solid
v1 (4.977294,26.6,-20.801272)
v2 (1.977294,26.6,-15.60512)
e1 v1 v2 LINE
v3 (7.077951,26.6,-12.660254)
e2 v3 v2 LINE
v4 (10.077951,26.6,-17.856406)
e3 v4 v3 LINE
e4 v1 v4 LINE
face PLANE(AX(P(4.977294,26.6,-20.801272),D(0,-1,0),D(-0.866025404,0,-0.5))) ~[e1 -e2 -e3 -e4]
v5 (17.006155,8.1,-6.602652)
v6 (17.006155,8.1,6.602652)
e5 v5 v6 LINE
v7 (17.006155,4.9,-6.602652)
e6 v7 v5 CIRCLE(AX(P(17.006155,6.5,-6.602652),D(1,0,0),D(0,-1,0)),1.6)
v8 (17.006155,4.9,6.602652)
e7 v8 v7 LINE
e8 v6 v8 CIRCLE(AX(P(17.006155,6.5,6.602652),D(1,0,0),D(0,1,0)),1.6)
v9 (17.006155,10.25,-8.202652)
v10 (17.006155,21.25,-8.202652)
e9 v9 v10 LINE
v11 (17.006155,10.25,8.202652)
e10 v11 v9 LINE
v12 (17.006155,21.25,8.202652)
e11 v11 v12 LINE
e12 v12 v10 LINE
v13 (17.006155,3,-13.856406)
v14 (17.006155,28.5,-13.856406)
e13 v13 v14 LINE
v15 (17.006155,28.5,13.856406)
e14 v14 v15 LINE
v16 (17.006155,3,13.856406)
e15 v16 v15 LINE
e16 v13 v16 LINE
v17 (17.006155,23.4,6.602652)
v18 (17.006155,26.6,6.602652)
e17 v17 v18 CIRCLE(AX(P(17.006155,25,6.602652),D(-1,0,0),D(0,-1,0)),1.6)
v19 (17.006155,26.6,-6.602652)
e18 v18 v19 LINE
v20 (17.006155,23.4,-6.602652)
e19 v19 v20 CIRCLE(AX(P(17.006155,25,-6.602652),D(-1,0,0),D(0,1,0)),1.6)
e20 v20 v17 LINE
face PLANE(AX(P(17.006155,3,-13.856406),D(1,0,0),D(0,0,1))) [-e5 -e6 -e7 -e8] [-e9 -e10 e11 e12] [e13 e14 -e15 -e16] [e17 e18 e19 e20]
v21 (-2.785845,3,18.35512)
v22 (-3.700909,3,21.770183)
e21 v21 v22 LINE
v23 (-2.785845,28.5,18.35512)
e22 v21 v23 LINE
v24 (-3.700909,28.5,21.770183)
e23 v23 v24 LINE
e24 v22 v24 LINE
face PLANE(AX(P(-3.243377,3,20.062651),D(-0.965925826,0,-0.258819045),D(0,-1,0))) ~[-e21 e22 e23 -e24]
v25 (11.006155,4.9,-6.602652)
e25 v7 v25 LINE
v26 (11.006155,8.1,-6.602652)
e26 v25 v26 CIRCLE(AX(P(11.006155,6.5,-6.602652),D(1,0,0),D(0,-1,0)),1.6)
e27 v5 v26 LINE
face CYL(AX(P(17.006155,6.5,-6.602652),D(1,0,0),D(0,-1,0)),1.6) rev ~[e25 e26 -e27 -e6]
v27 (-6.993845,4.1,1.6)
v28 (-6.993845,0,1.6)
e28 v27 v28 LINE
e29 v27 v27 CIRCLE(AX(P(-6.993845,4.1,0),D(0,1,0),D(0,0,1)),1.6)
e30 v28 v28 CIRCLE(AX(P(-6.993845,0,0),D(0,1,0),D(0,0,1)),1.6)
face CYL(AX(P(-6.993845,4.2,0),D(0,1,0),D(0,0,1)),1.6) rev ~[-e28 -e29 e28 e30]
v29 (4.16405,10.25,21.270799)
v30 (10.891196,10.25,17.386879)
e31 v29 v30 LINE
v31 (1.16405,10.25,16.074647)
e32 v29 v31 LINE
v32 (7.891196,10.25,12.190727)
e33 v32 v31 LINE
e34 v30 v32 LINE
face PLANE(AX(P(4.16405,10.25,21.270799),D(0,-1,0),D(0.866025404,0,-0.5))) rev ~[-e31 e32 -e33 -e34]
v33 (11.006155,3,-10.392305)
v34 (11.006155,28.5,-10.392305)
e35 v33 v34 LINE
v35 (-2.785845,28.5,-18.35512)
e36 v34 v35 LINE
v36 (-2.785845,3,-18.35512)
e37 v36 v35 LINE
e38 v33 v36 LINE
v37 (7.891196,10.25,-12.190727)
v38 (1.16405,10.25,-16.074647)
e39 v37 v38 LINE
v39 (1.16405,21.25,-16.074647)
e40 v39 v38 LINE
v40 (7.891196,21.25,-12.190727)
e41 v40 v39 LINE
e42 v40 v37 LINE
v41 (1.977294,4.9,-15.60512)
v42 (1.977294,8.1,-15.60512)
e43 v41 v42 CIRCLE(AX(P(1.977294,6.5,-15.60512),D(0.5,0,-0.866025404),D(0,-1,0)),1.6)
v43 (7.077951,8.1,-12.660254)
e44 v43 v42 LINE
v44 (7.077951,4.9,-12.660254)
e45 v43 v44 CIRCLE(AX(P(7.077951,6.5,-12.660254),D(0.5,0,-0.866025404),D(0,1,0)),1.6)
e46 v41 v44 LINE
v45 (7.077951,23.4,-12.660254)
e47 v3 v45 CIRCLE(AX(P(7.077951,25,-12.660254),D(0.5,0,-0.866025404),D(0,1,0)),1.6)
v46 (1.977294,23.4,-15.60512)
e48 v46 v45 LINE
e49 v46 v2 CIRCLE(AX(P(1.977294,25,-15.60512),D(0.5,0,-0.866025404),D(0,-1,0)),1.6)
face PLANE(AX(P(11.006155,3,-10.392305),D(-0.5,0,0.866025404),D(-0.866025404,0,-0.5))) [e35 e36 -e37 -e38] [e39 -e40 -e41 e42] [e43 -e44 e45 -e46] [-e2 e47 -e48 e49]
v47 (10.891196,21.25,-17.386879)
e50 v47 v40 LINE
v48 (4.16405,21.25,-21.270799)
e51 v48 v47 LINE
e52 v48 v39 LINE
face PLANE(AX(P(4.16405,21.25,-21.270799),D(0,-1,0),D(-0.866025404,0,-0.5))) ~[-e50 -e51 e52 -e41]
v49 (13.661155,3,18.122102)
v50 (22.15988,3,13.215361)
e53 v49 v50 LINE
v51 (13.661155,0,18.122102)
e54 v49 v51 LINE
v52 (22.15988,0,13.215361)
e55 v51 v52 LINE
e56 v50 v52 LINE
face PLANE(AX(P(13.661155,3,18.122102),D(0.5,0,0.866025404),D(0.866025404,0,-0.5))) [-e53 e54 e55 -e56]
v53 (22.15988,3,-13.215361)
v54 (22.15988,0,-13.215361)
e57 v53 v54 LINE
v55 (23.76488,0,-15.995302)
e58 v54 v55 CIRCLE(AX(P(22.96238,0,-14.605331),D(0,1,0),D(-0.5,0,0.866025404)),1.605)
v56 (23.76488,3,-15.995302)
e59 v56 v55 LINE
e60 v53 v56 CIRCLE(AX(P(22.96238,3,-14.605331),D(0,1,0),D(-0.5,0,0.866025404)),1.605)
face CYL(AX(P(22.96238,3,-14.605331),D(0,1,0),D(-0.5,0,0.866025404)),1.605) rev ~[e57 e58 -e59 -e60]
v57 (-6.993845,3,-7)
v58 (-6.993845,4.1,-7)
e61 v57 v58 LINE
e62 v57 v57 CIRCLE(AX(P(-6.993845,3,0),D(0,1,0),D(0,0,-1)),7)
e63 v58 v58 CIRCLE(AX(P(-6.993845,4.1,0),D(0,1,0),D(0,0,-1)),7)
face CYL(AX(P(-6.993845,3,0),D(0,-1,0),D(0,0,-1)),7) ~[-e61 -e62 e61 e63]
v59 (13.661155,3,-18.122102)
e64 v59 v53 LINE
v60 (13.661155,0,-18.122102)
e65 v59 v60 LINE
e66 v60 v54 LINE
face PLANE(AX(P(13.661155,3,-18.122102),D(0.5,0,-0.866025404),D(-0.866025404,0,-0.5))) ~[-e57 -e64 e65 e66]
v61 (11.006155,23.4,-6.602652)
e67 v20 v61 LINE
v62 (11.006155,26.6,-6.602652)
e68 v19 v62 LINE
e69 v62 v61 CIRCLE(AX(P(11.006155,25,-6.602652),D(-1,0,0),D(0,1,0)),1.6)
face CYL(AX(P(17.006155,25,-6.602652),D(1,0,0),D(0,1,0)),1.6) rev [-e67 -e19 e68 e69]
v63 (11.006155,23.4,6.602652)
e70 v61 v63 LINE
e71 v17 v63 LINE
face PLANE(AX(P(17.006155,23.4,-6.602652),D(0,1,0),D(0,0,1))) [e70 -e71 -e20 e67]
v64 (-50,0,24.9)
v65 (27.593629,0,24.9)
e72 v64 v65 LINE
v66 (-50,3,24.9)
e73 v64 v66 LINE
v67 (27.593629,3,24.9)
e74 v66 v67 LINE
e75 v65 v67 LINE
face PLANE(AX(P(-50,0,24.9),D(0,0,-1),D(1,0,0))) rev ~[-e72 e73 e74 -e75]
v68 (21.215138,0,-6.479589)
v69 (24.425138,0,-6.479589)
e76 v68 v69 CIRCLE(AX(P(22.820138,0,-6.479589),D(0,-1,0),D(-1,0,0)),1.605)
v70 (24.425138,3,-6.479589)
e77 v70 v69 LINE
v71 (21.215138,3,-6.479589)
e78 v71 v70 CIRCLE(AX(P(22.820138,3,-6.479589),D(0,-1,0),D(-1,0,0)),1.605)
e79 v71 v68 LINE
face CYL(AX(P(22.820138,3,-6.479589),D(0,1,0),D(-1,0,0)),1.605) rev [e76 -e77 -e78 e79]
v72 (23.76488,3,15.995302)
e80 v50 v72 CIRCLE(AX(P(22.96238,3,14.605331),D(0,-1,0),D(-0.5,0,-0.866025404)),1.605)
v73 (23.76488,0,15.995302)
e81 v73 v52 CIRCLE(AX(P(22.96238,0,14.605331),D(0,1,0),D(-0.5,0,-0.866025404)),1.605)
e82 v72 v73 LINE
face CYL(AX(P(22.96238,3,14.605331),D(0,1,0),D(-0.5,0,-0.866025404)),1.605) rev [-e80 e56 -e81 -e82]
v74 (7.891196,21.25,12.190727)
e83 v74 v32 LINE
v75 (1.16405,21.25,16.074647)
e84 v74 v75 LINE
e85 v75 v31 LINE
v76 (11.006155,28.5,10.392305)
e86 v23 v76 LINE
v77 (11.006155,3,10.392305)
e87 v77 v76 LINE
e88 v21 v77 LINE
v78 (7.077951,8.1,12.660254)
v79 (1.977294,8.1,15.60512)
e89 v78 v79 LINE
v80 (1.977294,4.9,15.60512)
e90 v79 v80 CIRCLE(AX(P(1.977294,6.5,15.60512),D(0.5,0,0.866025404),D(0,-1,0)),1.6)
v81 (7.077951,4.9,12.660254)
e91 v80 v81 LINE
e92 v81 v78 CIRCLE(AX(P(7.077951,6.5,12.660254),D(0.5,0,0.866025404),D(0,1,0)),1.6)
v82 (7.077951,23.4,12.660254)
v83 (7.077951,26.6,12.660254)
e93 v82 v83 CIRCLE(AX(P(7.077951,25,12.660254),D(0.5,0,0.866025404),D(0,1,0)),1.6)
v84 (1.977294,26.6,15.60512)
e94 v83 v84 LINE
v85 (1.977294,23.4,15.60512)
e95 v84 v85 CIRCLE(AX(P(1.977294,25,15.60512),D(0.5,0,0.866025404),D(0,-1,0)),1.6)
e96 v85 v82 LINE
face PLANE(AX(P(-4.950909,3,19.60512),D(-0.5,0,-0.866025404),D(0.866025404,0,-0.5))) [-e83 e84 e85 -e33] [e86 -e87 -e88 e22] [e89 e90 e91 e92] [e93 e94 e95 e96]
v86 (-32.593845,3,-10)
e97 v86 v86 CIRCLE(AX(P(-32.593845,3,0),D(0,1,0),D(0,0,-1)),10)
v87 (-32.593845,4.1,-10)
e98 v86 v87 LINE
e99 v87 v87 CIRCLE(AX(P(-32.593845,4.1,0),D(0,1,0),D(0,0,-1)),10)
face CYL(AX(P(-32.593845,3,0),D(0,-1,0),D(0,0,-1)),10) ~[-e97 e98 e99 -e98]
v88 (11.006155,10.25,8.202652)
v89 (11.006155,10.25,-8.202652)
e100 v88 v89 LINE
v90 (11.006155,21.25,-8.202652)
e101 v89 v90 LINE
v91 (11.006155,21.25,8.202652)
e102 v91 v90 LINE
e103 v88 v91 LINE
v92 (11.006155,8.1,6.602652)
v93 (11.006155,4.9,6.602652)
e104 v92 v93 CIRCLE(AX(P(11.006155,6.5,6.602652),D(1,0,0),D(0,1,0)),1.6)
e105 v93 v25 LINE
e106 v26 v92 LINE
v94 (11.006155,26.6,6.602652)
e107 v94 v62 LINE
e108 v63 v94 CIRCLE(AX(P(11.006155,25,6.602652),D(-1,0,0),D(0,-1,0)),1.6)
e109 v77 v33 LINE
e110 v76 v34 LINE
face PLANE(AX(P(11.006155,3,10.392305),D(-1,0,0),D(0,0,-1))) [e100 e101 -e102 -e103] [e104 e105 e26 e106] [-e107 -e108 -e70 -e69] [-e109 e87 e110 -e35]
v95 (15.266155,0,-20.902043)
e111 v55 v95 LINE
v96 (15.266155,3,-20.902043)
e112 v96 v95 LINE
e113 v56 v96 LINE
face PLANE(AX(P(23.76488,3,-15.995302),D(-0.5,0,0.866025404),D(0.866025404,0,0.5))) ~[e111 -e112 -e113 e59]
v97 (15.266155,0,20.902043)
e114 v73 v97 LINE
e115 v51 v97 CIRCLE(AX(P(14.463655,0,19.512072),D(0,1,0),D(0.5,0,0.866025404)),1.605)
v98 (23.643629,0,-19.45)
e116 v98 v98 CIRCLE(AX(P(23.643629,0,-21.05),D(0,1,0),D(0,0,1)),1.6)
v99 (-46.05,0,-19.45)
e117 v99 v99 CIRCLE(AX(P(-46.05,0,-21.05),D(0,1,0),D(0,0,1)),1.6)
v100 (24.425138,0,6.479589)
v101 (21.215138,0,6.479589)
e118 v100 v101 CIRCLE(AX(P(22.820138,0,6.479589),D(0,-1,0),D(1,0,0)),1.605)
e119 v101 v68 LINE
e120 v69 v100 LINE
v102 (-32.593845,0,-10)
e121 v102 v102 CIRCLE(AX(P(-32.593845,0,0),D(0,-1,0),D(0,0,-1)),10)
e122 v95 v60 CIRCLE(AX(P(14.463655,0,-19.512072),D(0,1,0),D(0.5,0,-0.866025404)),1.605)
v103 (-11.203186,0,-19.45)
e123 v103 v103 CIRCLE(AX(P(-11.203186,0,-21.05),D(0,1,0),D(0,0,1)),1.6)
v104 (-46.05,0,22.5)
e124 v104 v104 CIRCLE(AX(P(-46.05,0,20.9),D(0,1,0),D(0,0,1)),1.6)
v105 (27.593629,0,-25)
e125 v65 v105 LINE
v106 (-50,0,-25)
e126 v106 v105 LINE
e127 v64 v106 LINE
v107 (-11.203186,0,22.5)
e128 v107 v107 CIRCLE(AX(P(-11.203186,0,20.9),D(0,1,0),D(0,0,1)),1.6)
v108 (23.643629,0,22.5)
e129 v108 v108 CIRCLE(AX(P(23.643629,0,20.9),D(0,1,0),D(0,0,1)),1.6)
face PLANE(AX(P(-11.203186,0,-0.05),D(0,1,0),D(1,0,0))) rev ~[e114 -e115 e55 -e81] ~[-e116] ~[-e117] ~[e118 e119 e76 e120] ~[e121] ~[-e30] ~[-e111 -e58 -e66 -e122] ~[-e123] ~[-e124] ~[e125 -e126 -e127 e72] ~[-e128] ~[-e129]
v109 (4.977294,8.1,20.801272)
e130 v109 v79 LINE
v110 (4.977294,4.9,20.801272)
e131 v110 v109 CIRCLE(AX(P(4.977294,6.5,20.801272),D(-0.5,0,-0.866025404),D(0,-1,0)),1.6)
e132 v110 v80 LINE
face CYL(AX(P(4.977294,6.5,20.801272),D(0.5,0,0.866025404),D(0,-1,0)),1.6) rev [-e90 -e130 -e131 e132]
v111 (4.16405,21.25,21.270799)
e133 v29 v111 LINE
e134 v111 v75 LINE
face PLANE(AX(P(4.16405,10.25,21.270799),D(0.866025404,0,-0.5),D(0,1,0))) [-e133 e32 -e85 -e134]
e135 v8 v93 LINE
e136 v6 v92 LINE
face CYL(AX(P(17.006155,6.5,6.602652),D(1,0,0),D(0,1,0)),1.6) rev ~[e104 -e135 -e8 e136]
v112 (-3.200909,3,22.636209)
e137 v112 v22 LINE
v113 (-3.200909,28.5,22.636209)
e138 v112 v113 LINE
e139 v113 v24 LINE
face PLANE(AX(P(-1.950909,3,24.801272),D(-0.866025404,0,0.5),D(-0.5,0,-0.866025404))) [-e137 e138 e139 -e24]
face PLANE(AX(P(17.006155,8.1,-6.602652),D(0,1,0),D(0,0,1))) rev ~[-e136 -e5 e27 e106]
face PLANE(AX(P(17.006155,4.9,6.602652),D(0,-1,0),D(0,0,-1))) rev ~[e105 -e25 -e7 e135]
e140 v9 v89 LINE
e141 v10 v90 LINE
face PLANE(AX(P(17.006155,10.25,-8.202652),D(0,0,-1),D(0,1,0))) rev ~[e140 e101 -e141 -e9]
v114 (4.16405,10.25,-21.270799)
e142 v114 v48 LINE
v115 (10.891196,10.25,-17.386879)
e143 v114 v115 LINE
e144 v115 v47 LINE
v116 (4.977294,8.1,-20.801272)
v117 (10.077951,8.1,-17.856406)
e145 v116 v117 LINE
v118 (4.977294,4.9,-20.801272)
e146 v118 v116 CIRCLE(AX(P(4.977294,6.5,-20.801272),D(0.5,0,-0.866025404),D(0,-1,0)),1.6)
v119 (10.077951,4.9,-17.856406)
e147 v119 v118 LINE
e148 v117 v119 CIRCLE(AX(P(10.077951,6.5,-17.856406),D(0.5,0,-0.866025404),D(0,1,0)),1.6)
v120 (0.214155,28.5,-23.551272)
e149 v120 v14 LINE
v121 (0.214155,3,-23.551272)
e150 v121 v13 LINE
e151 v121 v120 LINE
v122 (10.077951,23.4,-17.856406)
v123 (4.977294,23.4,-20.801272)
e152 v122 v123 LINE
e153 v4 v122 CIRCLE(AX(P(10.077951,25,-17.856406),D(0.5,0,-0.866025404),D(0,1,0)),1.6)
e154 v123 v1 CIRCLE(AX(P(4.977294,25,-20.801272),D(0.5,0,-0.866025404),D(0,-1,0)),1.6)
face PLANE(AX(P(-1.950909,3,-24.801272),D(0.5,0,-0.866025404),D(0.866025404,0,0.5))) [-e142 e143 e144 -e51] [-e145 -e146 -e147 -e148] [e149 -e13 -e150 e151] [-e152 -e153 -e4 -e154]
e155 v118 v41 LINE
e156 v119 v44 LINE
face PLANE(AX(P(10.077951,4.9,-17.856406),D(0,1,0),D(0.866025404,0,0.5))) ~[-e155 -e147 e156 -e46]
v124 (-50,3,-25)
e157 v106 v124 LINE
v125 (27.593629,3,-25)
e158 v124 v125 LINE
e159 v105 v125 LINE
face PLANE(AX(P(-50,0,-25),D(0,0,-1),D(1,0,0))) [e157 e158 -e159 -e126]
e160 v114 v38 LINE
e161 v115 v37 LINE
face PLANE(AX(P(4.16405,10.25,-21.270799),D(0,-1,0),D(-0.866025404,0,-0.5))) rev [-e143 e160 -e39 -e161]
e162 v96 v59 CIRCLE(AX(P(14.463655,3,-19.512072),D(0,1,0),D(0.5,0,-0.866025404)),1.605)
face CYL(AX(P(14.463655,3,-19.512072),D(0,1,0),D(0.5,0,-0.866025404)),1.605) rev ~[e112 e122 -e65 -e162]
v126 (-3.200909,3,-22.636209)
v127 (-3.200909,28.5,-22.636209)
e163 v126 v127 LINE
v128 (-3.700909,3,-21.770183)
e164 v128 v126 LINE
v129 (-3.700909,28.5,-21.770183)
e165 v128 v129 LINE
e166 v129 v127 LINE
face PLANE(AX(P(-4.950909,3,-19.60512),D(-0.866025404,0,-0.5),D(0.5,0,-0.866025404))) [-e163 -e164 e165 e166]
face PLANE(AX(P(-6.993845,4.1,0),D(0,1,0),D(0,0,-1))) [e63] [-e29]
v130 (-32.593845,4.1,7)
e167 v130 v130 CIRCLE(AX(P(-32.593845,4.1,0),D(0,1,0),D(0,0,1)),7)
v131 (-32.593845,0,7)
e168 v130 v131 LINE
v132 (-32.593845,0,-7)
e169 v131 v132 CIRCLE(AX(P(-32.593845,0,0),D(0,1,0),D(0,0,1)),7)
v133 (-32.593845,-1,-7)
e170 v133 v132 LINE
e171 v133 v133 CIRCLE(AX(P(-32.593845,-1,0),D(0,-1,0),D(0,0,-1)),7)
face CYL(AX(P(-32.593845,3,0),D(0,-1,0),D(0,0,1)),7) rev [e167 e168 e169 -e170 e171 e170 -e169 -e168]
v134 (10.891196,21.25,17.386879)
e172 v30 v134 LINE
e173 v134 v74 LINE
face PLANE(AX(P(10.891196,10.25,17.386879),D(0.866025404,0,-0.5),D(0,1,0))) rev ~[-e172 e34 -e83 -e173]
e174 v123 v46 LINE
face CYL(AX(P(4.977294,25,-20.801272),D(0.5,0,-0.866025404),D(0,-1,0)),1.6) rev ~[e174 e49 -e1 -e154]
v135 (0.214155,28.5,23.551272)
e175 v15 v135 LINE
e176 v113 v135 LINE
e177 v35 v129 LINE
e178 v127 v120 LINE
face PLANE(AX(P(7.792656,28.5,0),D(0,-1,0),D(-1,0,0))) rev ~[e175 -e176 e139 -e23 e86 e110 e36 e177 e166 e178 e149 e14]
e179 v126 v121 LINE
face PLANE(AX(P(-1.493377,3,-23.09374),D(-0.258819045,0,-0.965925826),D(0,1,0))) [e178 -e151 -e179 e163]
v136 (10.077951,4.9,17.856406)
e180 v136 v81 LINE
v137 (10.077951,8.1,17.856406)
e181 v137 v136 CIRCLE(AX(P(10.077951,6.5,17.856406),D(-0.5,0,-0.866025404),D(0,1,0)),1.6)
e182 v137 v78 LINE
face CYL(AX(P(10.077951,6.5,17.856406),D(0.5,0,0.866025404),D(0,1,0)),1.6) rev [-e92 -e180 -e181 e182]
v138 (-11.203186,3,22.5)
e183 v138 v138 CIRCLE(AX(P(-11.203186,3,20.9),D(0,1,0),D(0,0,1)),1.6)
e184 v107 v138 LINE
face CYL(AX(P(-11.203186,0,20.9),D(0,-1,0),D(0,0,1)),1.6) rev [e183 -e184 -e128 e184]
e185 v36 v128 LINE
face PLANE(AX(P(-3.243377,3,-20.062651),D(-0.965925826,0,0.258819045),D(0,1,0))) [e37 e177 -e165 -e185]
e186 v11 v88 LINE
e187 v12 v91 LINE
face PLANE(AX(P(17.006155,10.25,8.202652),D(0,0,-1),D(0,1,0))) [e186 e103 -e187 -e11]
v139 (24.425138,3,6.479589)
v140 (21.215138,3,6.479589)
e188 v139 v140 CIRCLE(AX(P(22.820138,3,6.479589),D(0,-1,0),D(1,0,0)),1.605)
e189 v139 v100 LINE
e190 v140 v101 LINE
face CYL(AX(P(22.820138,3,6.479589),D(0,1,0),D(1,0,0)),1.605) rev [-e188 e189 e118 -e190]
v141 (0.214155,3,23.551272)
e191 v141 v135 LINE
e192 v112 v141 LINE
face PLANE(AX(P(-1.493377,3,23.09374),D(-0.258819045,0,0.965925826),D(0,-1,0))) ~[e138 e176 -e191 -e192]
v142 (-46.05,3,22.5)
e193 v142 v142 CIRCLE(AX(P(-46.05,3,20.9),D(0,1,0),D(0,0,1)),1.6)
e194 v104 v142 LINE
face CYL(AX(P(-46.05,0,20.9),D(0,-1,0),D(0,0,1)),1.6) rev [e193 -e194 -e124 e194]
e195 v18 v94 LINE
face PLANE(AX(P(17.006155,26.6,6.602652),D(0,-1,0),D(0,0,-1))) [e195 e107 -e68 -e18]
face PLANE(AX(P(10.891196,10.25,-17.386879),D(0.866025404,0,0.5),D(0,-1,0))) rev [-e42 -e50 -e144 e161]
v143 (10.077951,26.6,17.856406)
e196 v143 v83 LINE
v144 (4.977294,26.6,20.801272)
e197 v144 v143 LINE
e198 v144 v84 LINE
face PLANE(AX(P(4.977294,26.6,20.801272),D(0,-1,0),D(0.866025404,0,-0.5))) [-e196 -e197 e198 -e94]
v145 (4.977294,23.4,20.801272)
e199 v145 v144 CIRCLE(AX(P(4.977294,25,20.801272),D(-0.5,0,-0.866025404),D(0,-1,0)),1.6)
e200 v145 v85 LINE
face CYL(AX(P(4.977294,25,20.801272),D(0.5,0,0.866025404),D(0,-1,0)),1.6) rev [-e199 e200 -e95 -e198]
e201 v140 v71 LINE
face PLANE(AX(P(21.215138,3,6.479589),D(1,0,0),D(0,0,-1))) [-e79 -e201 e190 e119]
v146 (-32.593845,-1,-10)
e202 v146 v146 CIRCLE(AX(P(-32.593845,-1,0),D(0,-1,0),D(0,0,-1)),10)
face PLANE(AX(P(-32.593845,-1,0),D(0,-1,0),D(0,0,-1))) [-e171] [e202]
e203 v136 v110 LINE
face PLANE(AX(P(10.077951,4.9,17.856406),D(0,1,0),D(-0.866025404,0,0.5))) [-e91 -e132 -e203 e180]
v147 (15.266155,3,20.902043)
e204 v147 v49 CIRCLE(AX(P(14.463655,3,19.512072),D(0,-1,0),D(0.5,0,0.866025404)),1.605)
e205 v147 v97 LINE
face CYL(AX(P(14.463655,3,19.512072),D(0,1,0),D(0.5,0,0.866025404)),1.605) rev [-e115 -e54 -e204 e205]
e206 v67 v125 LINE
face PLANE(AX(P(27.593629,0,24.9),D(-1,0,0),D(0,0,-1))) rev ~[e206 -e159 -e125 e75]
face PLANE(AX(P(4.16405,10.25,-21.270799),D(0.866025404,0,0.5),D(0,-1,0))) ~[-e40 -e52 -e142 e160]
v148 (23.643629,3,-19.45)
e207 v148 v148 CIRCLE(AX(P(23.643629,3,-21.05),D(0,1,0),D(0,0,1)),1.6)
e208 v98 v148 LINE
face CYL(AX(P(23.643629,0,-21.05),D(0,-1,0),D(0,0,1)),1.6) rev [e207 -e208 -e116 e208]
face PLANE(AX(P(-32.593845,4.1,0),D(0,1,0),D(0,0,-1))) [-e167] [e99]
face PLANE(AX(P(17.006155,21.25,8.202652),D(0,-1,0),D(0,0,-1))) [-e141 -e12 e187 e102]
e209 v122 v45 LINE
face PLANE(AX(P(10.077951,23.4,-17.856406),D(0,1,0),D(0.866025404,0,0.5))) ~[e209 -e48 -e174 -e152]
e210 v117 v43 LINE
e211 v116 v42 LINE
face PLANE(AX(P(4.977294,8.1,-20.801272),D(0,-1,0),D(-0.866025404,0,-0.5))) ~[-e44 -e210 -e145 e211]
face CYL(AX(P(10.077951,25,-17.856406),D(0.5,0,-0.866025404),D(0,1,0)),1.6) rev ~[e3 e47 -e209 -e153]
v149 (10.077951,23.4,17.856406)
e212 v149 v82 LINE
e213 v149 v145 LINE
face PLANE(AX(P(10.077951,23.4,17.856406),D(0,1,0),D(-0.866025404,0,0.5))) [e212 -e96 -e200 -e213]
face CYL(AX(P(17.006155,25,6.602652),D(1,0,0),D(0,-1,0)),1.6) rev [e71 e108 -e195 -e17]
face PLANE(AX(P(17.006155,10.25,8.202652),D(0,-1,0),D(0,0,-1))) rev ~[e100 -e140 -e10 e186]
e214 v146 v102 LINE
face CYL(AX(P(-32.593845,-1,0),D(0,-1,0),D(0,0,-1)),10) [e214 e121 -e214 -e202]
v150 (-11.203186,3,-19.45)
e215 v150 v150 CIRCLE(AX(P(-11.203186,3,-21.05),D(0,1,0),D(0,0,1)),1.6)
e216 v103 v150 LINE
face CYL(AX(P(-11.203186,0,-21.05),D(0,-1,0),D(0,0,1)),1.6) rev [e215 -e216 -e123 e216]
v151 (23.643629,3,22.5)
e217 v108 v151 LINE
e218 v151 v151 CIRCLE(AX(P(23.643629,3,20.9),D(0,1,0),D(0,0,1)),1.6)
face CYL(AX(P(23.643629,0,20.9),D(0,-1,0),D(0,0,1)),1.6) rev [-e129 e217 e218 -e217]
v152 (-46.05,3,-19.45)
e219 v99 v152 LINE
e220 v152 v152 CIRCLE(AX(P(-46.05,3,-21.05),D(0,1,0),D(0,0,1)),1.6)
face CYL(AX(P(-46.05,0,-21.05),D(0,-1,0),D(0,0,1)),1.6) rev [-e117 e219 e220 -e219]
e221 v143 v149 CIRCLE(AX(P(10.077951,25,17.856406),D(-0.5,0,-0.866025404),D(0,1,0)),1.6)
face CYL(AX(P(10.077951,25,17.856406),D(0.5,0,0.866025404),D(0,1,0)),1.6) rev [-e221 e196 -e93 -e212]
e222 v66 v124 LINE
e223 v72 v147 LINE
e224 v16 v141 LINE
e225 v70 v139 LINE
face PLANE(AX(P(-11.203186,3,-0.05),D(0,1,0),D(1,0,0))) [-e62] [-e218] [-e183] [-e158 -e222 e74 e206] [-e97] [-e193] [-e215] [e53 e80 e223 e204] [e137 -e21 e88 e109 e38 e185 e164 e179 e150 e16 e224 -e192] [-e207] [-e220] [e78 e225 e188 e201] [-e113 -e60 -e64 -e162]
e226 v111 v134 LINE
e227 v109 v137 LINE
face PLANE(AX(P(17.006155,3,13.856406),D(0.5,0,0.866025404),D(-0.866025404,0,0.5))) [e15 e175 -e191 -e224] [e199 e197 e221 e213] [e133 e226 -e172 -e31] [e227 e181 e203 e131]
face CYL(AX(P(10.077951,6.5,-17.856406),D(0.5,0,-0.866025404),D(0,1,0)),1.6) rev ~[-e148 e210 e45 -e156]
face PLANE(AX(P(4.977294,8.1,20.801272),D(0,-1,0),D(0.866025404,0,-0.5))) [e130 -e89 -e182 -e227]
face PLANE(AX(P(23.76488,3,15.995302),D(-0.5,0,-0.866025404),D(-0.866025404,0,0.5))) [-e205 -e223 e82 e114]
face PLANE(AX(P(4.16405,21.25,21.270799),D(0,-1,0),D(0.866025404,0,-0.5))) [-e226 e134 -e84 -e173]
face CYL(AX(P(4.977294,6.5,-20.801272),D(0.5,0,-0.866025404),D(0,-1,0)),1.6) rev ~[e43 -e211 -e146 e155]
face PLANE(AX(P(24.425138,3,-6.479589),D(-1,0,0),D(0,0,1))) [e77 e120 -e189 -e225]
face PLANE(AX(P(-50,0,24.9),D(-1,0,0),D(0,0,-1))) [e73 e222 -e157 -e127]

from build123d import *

# Parameters (mm, degrees)
SKETCH1_W            = 77.5936289
SKETCH1_H            = 49.9
SKETCH1_R            = 7
SKETCH1_R_2          = 1.6
BOSS_EXTRUDE6_DEPTH  = 3
SKETCH7_R            = 10
SKETCH7_R_2          = 7
BOSS_EXTRUDE7_DEPTH  = 1.1
BOSS_EXTRUDE9_START  = 1
SKETCH9_R            = 10
SKETCH9_R_2          = 7
BOSS_EXTRUDE9_DEPTH  = 1
SKETCH8_R            = 1.5
BOSS_EXTRUDE8_DEPTH  = 0.1
BOSS_EXTRUDE10_DEPTH = 25.5
SKETCH11_W           = 7.767839657
SKETCH11_H           = 11
CUT_EXTRUDE3_DEPTH   = 60.057720192
CUT_EXTRUDE4_DEPTH   = 11
CHAMFER2_SIZE        = 2.5
CHAMFER3_SIZE        = 2.5
SKETCH12_R           = 1.6
CUT_EXTRUDE5_DEPTH   = 4.2
SKETCH15_W           = 16.405303922
SKETCH15_H           = 11
CUT_EXTRUDE6_DEPTH   = 6
CUT_EXTRUDE7_DEPTH   = 3


with BuildPart() as part:
    # Sketch1 → Boss-Extrude6 (new body)
    with BuildSketch(Plane(origin=(0, 0, 0), x_dir=(1, 0, 0), z_dir=(0, 1, 0))):
        with Locations((-11.20318555, 0.05)):
            Rectangle(SKETCH1_W, SKETCH1_H)
        with Locations(Location((-32.593845483, 0, 0), (0, 0, 270))):
            Circle(SKETCH1_R, mode=Mode.SUBTRACT)
        with Locations(Location((-46.05, 21.05, 0), (0, 0, 270))):
            Circle(SKETCH1_R_2, mode=Mode.SUBTRACT)
        with Locations(Location((-46.05, -20.9, 0), (0, 0, 270))):
            Circle(SKETCH1_R_2, mode=Mode.SUBTRACT)
        with Locations(Location((23.6436289, -20.9, 0), (0, 0, 270))):
            Circle(SKETCH1_R_2, mode=Mode.SUBTRACT)
        with Locations(Location((23.6436289, 21.05, 0), (0, 0, 270))):
            Circle(SKETCH1_R_2, mode=Mode.SUBTRACT)
        with Locations(Location((-11.20318555, -20.9, 0), (0, 0, 270))):
            Circle(SKETCH1_R_2, mode=Mode.SUBTRACT)
        with Locations(Location((-11.20318555, 21.05, 0), (0, 0, 270))):
            Circle(SKETCH1_R_2, mode=Mode.SUBTRACT)
    extrude(amount=BOSS_EXTRUDE6_DEPTH)

    # Sketch7 → Boss-Extrude7 (add)
    # profile 1 of 2: a face of its own
    with BuildSketch(Plane(origin=(0, 3, 0), x_dir=(1, 0, 0), z_dir=(0, 1, 0))):
        with Locations(Location((-32.593845483, 0, 0), (0, 0, 90))):
            Circle(SKETCH7_R)
        with Locations(Location((-32.593845483, 0, 0), (0, 0, 270))):
            Circle(SKETCH7_R_2, mode=Mode.SUBTRACT)
    # profile 2 of 2: a face of its own
    with BuildSketch(Plane(origin=(0, 3, 0), x_dir=(1, 0, 0), z_dir=(0, 1, 0))):
        with Locations(Location((-6.993845483, 0, 0), (0, 0, 90))):
            Circle(SKETCH7_R_2)
    extrude(amount=BOSS_EXTRUDE7_DEPTH)

    # Sketch9 → Boss-Extrude9 (add)
    with BuildSketch(Plane.XZ.offset(BOSS_EXTRUDE9_START)):
        with Locations(Location((-32.593845483, 0, 0), (0, 0, 270))):
            Circle(SKETCH9_R)
        with Locations(Location((-32.593845483, 0, 0), (0, 0, 270))):
            Circle(SKETCH9_R_2, mode=Mode.SUBTRACT)
    extrude(amount=-BOSS_EXTRUDE9_DEPTH)

    # Sketch8 → Boss-Extrude8 (add)
    with BuildSketch(Plane(origin=(0, 4.1, 0), x_dir=(1, 0, 0), z_dir=(0, 1, 0))):
        with Locations(Location((-6.993845483, 0, 0), (0, 0, 270))):
            Circle(SKETCH8_R)
    extrude(amount=BOSS_EXTRUDE8_DEPTH)

    # Sketch10 → Boss-Extrude10 (add)
    with BuildSketch(Plane(origin=(0, 3, 0), x_dir=(1, 0, 0), z_dir=(0, 1, 0))):
        Polygon((11.006154517, 10.392304845), (-4.95090881, 19.605119652), (-1.95090881, 24.801272075), (17.006154517, 13.856406461), (17.006154517, -13.856406461), (-1.95090881, -24.801272075), (-4.95090881, -19.605119652), (11.006154517, -10.392304845), align=None)
    extrude(amount=BOSS_EXTRUDE10_DEPTH)

    # Sketch11 → Cut-Extrude3 (cut)
    with BuildSketch(Plane(origin=(10.251538629, 0, 17.756185762), x_dir=(0.8660254037844386, 0, -0.5000000000000001), z_dir=(0.5000000000000001, 0, 0.8660254037844386))):
        with BuildLine():
            Line((-6.090172627, 26.6), (-0.200441398, 26.6))
            ThreePointArc((-0.200441398, 26.6), (1.399558602, 25), (-0.200441398, 23.4))
            Line((-0.200441398, 23.4), (-6.090172627, 23.4))
            ThreePointArc((-6.090172627, 23.4), (-7.690172627, 25), (-6.090172627, 26.6))
        make_face()
        with BuildLine():
            Line((-6.090172627, 8.1), (-0.200441398, 8.1))
            ThreePointArc((-0.200441398, 8.1), (1.399558602, 6.5), (-0.200441398, 4.9))
            Line((-0.200441398, 4.9), (-6.090172627, 4.9))
            ThreePointArc((-6.090172627, 4.9), (-7.690172627, 6.5), (-6.090172627, 8.1))
        make_face()
        with Locations((-3.145307013, 15.75)):
            Rectangle(SKETCH11_W, SKETCH11_H)
    cut_extrude3 = extrude(amount=-CUT_EXTRUDE3_DEPTH, mode=Mode.SUBTRACT)

    # Mirror4: Cut-Extrude3 across plane
    add(cut_extrude3.mirror(Plane.XY), mode=Mode.SUBTRACT)

    # Sketch13 → Cut-Extrude4 (cut)
    with BuildSketch(Plane(origin=(0, 3, 0), x_dir=(1, 0, 0), z_dir=(0, 1, 0))):
        with BuildLine():
            Line((13.661155176, -18.122101509), (22.159879545, -13.215360707))
            ThreePointArc((22.159879545, -13.215360707), (24.352350318, -13.80283148), (23.764879545, -15.995302253))
            Line((23.764879545, -15.995302253), (15.266155176, -20.902043055))
            ThreePointArc((15.266155176, -20.902043055), (13.073684403, -20.314572282), (13.661155176, -18.122101509))
        make_face()
    cut_extrude4 = extrude(amount=-CUT_EXTRUDE4_DEPTH, mode=Mode.SUBTRACT)

    # Mirror5: Cut-Extrude4 across plane
    add(cut_extrude4.mirror(Plane.XY), mode=Mode.SUBTRACT)

    # Chamfer2
    chamfer2_edges = [part.edges().sort_by_distance(p)[0] for p in [
        (-4.95090881, 15.75, 19.605119652),
        (-4.95090881, 15.75, -19.605119652),
    ]]
    chamfer(chamfer2_edges, length=CHAMFER2_SIZE)

    # Chamfer3
    chamfer3_edges = [part.edges().sort_by_distance(p)[0] for p in [
        (-1.95090881, 15.75, 24.801272075),
        (-1.95090881, 15.75, -24.801272075),
    ]]
    chamfer(chamfer3_edges, length=CHAMFER3_SIZE)

    # Sketch12 → Cut-Extrude5 (cut)
    with BuildSketch(Plane(origin=(0, 4.2, 0), x_dir=(1, 0, 0), z_dir=(0, 1, 0))):
        with Locations(Location((-6.993845483, 0, 0), (0, 0, 270))):
            Circle(SKETCH12_R)
    extrude(amount=-CUT_EXTRUDE5_DEPTH, mode=Mode.SUBTRACT)

    # Sketch15 → Cut-Extrude6 (cut)
    with BuildSketch(Plane(origin=(17.006154517, 0, 0), x_dir=(0, 0, -1), z_dir=(1, 0, 0))):
        with Locations((0, 15.75)):
            Rectangle(SKETCH15_W, SKETCH15_H)
        with BuildLine():
            Line((-6.602651961, 26.6), (6.602651961, 26.6))
            ThreePointArc((6.602651961, 26.6), (8.202651961, 25), (6.602651961, 23.4))
            Line((6.602651961, 23.4), (-6.602651961, 23.4))
            ThreePointArc((-6.602651961, 23.4), (-8.202651961, 25), (-6.602651961, 26.6))
        make_face()
        with BuildLine():
            Line((-6.602651961, 4.9), (6.602651961, 4.9))
            ThreePointArc((6.602651961, 4.9), (8.202651961, 6.5), (6.602651961, 8.1))
            Line((6.602651961, 8.1), (-6.602651961, 8.1))
            ThreePointArc((-6.602651961, 8.1), (-8.202651961, 6.5), (-6.602651961, 4.9))
        make_face()
    extrude(amount=-CUT_EXTRUDE6_DEPTH, mode=Mode.SUBTRACT)

    # Sketch16 → Cut-Extrude7 (cut)
    with BuildSketch(Plane(origin=(0, 3, 0), x_dir=(1, 0, 0), z_dir=(0, 1, 0))):
        with BuildLine():
            Line((21.215137645, -6.479589384), (21.215137645, 6.479589384))
            ThreePointArc((21.215137645, 6.479589384), (22.820137645, 8.084589384), (24.425137645, 6.479589384))
            Line((24.425137645, 6.479589384), (24.425137645, -6.479589384))
            ThreePointArc((24.425137645, -6.479589384), (22.820137645, -8.084589384), (21.215137645, -6.479589384))
        make_face()
    extrude(amount=-CUT_EXTRUDE7_DEPTH, mode=Mode.SUBTRACT)


solid = part.part
